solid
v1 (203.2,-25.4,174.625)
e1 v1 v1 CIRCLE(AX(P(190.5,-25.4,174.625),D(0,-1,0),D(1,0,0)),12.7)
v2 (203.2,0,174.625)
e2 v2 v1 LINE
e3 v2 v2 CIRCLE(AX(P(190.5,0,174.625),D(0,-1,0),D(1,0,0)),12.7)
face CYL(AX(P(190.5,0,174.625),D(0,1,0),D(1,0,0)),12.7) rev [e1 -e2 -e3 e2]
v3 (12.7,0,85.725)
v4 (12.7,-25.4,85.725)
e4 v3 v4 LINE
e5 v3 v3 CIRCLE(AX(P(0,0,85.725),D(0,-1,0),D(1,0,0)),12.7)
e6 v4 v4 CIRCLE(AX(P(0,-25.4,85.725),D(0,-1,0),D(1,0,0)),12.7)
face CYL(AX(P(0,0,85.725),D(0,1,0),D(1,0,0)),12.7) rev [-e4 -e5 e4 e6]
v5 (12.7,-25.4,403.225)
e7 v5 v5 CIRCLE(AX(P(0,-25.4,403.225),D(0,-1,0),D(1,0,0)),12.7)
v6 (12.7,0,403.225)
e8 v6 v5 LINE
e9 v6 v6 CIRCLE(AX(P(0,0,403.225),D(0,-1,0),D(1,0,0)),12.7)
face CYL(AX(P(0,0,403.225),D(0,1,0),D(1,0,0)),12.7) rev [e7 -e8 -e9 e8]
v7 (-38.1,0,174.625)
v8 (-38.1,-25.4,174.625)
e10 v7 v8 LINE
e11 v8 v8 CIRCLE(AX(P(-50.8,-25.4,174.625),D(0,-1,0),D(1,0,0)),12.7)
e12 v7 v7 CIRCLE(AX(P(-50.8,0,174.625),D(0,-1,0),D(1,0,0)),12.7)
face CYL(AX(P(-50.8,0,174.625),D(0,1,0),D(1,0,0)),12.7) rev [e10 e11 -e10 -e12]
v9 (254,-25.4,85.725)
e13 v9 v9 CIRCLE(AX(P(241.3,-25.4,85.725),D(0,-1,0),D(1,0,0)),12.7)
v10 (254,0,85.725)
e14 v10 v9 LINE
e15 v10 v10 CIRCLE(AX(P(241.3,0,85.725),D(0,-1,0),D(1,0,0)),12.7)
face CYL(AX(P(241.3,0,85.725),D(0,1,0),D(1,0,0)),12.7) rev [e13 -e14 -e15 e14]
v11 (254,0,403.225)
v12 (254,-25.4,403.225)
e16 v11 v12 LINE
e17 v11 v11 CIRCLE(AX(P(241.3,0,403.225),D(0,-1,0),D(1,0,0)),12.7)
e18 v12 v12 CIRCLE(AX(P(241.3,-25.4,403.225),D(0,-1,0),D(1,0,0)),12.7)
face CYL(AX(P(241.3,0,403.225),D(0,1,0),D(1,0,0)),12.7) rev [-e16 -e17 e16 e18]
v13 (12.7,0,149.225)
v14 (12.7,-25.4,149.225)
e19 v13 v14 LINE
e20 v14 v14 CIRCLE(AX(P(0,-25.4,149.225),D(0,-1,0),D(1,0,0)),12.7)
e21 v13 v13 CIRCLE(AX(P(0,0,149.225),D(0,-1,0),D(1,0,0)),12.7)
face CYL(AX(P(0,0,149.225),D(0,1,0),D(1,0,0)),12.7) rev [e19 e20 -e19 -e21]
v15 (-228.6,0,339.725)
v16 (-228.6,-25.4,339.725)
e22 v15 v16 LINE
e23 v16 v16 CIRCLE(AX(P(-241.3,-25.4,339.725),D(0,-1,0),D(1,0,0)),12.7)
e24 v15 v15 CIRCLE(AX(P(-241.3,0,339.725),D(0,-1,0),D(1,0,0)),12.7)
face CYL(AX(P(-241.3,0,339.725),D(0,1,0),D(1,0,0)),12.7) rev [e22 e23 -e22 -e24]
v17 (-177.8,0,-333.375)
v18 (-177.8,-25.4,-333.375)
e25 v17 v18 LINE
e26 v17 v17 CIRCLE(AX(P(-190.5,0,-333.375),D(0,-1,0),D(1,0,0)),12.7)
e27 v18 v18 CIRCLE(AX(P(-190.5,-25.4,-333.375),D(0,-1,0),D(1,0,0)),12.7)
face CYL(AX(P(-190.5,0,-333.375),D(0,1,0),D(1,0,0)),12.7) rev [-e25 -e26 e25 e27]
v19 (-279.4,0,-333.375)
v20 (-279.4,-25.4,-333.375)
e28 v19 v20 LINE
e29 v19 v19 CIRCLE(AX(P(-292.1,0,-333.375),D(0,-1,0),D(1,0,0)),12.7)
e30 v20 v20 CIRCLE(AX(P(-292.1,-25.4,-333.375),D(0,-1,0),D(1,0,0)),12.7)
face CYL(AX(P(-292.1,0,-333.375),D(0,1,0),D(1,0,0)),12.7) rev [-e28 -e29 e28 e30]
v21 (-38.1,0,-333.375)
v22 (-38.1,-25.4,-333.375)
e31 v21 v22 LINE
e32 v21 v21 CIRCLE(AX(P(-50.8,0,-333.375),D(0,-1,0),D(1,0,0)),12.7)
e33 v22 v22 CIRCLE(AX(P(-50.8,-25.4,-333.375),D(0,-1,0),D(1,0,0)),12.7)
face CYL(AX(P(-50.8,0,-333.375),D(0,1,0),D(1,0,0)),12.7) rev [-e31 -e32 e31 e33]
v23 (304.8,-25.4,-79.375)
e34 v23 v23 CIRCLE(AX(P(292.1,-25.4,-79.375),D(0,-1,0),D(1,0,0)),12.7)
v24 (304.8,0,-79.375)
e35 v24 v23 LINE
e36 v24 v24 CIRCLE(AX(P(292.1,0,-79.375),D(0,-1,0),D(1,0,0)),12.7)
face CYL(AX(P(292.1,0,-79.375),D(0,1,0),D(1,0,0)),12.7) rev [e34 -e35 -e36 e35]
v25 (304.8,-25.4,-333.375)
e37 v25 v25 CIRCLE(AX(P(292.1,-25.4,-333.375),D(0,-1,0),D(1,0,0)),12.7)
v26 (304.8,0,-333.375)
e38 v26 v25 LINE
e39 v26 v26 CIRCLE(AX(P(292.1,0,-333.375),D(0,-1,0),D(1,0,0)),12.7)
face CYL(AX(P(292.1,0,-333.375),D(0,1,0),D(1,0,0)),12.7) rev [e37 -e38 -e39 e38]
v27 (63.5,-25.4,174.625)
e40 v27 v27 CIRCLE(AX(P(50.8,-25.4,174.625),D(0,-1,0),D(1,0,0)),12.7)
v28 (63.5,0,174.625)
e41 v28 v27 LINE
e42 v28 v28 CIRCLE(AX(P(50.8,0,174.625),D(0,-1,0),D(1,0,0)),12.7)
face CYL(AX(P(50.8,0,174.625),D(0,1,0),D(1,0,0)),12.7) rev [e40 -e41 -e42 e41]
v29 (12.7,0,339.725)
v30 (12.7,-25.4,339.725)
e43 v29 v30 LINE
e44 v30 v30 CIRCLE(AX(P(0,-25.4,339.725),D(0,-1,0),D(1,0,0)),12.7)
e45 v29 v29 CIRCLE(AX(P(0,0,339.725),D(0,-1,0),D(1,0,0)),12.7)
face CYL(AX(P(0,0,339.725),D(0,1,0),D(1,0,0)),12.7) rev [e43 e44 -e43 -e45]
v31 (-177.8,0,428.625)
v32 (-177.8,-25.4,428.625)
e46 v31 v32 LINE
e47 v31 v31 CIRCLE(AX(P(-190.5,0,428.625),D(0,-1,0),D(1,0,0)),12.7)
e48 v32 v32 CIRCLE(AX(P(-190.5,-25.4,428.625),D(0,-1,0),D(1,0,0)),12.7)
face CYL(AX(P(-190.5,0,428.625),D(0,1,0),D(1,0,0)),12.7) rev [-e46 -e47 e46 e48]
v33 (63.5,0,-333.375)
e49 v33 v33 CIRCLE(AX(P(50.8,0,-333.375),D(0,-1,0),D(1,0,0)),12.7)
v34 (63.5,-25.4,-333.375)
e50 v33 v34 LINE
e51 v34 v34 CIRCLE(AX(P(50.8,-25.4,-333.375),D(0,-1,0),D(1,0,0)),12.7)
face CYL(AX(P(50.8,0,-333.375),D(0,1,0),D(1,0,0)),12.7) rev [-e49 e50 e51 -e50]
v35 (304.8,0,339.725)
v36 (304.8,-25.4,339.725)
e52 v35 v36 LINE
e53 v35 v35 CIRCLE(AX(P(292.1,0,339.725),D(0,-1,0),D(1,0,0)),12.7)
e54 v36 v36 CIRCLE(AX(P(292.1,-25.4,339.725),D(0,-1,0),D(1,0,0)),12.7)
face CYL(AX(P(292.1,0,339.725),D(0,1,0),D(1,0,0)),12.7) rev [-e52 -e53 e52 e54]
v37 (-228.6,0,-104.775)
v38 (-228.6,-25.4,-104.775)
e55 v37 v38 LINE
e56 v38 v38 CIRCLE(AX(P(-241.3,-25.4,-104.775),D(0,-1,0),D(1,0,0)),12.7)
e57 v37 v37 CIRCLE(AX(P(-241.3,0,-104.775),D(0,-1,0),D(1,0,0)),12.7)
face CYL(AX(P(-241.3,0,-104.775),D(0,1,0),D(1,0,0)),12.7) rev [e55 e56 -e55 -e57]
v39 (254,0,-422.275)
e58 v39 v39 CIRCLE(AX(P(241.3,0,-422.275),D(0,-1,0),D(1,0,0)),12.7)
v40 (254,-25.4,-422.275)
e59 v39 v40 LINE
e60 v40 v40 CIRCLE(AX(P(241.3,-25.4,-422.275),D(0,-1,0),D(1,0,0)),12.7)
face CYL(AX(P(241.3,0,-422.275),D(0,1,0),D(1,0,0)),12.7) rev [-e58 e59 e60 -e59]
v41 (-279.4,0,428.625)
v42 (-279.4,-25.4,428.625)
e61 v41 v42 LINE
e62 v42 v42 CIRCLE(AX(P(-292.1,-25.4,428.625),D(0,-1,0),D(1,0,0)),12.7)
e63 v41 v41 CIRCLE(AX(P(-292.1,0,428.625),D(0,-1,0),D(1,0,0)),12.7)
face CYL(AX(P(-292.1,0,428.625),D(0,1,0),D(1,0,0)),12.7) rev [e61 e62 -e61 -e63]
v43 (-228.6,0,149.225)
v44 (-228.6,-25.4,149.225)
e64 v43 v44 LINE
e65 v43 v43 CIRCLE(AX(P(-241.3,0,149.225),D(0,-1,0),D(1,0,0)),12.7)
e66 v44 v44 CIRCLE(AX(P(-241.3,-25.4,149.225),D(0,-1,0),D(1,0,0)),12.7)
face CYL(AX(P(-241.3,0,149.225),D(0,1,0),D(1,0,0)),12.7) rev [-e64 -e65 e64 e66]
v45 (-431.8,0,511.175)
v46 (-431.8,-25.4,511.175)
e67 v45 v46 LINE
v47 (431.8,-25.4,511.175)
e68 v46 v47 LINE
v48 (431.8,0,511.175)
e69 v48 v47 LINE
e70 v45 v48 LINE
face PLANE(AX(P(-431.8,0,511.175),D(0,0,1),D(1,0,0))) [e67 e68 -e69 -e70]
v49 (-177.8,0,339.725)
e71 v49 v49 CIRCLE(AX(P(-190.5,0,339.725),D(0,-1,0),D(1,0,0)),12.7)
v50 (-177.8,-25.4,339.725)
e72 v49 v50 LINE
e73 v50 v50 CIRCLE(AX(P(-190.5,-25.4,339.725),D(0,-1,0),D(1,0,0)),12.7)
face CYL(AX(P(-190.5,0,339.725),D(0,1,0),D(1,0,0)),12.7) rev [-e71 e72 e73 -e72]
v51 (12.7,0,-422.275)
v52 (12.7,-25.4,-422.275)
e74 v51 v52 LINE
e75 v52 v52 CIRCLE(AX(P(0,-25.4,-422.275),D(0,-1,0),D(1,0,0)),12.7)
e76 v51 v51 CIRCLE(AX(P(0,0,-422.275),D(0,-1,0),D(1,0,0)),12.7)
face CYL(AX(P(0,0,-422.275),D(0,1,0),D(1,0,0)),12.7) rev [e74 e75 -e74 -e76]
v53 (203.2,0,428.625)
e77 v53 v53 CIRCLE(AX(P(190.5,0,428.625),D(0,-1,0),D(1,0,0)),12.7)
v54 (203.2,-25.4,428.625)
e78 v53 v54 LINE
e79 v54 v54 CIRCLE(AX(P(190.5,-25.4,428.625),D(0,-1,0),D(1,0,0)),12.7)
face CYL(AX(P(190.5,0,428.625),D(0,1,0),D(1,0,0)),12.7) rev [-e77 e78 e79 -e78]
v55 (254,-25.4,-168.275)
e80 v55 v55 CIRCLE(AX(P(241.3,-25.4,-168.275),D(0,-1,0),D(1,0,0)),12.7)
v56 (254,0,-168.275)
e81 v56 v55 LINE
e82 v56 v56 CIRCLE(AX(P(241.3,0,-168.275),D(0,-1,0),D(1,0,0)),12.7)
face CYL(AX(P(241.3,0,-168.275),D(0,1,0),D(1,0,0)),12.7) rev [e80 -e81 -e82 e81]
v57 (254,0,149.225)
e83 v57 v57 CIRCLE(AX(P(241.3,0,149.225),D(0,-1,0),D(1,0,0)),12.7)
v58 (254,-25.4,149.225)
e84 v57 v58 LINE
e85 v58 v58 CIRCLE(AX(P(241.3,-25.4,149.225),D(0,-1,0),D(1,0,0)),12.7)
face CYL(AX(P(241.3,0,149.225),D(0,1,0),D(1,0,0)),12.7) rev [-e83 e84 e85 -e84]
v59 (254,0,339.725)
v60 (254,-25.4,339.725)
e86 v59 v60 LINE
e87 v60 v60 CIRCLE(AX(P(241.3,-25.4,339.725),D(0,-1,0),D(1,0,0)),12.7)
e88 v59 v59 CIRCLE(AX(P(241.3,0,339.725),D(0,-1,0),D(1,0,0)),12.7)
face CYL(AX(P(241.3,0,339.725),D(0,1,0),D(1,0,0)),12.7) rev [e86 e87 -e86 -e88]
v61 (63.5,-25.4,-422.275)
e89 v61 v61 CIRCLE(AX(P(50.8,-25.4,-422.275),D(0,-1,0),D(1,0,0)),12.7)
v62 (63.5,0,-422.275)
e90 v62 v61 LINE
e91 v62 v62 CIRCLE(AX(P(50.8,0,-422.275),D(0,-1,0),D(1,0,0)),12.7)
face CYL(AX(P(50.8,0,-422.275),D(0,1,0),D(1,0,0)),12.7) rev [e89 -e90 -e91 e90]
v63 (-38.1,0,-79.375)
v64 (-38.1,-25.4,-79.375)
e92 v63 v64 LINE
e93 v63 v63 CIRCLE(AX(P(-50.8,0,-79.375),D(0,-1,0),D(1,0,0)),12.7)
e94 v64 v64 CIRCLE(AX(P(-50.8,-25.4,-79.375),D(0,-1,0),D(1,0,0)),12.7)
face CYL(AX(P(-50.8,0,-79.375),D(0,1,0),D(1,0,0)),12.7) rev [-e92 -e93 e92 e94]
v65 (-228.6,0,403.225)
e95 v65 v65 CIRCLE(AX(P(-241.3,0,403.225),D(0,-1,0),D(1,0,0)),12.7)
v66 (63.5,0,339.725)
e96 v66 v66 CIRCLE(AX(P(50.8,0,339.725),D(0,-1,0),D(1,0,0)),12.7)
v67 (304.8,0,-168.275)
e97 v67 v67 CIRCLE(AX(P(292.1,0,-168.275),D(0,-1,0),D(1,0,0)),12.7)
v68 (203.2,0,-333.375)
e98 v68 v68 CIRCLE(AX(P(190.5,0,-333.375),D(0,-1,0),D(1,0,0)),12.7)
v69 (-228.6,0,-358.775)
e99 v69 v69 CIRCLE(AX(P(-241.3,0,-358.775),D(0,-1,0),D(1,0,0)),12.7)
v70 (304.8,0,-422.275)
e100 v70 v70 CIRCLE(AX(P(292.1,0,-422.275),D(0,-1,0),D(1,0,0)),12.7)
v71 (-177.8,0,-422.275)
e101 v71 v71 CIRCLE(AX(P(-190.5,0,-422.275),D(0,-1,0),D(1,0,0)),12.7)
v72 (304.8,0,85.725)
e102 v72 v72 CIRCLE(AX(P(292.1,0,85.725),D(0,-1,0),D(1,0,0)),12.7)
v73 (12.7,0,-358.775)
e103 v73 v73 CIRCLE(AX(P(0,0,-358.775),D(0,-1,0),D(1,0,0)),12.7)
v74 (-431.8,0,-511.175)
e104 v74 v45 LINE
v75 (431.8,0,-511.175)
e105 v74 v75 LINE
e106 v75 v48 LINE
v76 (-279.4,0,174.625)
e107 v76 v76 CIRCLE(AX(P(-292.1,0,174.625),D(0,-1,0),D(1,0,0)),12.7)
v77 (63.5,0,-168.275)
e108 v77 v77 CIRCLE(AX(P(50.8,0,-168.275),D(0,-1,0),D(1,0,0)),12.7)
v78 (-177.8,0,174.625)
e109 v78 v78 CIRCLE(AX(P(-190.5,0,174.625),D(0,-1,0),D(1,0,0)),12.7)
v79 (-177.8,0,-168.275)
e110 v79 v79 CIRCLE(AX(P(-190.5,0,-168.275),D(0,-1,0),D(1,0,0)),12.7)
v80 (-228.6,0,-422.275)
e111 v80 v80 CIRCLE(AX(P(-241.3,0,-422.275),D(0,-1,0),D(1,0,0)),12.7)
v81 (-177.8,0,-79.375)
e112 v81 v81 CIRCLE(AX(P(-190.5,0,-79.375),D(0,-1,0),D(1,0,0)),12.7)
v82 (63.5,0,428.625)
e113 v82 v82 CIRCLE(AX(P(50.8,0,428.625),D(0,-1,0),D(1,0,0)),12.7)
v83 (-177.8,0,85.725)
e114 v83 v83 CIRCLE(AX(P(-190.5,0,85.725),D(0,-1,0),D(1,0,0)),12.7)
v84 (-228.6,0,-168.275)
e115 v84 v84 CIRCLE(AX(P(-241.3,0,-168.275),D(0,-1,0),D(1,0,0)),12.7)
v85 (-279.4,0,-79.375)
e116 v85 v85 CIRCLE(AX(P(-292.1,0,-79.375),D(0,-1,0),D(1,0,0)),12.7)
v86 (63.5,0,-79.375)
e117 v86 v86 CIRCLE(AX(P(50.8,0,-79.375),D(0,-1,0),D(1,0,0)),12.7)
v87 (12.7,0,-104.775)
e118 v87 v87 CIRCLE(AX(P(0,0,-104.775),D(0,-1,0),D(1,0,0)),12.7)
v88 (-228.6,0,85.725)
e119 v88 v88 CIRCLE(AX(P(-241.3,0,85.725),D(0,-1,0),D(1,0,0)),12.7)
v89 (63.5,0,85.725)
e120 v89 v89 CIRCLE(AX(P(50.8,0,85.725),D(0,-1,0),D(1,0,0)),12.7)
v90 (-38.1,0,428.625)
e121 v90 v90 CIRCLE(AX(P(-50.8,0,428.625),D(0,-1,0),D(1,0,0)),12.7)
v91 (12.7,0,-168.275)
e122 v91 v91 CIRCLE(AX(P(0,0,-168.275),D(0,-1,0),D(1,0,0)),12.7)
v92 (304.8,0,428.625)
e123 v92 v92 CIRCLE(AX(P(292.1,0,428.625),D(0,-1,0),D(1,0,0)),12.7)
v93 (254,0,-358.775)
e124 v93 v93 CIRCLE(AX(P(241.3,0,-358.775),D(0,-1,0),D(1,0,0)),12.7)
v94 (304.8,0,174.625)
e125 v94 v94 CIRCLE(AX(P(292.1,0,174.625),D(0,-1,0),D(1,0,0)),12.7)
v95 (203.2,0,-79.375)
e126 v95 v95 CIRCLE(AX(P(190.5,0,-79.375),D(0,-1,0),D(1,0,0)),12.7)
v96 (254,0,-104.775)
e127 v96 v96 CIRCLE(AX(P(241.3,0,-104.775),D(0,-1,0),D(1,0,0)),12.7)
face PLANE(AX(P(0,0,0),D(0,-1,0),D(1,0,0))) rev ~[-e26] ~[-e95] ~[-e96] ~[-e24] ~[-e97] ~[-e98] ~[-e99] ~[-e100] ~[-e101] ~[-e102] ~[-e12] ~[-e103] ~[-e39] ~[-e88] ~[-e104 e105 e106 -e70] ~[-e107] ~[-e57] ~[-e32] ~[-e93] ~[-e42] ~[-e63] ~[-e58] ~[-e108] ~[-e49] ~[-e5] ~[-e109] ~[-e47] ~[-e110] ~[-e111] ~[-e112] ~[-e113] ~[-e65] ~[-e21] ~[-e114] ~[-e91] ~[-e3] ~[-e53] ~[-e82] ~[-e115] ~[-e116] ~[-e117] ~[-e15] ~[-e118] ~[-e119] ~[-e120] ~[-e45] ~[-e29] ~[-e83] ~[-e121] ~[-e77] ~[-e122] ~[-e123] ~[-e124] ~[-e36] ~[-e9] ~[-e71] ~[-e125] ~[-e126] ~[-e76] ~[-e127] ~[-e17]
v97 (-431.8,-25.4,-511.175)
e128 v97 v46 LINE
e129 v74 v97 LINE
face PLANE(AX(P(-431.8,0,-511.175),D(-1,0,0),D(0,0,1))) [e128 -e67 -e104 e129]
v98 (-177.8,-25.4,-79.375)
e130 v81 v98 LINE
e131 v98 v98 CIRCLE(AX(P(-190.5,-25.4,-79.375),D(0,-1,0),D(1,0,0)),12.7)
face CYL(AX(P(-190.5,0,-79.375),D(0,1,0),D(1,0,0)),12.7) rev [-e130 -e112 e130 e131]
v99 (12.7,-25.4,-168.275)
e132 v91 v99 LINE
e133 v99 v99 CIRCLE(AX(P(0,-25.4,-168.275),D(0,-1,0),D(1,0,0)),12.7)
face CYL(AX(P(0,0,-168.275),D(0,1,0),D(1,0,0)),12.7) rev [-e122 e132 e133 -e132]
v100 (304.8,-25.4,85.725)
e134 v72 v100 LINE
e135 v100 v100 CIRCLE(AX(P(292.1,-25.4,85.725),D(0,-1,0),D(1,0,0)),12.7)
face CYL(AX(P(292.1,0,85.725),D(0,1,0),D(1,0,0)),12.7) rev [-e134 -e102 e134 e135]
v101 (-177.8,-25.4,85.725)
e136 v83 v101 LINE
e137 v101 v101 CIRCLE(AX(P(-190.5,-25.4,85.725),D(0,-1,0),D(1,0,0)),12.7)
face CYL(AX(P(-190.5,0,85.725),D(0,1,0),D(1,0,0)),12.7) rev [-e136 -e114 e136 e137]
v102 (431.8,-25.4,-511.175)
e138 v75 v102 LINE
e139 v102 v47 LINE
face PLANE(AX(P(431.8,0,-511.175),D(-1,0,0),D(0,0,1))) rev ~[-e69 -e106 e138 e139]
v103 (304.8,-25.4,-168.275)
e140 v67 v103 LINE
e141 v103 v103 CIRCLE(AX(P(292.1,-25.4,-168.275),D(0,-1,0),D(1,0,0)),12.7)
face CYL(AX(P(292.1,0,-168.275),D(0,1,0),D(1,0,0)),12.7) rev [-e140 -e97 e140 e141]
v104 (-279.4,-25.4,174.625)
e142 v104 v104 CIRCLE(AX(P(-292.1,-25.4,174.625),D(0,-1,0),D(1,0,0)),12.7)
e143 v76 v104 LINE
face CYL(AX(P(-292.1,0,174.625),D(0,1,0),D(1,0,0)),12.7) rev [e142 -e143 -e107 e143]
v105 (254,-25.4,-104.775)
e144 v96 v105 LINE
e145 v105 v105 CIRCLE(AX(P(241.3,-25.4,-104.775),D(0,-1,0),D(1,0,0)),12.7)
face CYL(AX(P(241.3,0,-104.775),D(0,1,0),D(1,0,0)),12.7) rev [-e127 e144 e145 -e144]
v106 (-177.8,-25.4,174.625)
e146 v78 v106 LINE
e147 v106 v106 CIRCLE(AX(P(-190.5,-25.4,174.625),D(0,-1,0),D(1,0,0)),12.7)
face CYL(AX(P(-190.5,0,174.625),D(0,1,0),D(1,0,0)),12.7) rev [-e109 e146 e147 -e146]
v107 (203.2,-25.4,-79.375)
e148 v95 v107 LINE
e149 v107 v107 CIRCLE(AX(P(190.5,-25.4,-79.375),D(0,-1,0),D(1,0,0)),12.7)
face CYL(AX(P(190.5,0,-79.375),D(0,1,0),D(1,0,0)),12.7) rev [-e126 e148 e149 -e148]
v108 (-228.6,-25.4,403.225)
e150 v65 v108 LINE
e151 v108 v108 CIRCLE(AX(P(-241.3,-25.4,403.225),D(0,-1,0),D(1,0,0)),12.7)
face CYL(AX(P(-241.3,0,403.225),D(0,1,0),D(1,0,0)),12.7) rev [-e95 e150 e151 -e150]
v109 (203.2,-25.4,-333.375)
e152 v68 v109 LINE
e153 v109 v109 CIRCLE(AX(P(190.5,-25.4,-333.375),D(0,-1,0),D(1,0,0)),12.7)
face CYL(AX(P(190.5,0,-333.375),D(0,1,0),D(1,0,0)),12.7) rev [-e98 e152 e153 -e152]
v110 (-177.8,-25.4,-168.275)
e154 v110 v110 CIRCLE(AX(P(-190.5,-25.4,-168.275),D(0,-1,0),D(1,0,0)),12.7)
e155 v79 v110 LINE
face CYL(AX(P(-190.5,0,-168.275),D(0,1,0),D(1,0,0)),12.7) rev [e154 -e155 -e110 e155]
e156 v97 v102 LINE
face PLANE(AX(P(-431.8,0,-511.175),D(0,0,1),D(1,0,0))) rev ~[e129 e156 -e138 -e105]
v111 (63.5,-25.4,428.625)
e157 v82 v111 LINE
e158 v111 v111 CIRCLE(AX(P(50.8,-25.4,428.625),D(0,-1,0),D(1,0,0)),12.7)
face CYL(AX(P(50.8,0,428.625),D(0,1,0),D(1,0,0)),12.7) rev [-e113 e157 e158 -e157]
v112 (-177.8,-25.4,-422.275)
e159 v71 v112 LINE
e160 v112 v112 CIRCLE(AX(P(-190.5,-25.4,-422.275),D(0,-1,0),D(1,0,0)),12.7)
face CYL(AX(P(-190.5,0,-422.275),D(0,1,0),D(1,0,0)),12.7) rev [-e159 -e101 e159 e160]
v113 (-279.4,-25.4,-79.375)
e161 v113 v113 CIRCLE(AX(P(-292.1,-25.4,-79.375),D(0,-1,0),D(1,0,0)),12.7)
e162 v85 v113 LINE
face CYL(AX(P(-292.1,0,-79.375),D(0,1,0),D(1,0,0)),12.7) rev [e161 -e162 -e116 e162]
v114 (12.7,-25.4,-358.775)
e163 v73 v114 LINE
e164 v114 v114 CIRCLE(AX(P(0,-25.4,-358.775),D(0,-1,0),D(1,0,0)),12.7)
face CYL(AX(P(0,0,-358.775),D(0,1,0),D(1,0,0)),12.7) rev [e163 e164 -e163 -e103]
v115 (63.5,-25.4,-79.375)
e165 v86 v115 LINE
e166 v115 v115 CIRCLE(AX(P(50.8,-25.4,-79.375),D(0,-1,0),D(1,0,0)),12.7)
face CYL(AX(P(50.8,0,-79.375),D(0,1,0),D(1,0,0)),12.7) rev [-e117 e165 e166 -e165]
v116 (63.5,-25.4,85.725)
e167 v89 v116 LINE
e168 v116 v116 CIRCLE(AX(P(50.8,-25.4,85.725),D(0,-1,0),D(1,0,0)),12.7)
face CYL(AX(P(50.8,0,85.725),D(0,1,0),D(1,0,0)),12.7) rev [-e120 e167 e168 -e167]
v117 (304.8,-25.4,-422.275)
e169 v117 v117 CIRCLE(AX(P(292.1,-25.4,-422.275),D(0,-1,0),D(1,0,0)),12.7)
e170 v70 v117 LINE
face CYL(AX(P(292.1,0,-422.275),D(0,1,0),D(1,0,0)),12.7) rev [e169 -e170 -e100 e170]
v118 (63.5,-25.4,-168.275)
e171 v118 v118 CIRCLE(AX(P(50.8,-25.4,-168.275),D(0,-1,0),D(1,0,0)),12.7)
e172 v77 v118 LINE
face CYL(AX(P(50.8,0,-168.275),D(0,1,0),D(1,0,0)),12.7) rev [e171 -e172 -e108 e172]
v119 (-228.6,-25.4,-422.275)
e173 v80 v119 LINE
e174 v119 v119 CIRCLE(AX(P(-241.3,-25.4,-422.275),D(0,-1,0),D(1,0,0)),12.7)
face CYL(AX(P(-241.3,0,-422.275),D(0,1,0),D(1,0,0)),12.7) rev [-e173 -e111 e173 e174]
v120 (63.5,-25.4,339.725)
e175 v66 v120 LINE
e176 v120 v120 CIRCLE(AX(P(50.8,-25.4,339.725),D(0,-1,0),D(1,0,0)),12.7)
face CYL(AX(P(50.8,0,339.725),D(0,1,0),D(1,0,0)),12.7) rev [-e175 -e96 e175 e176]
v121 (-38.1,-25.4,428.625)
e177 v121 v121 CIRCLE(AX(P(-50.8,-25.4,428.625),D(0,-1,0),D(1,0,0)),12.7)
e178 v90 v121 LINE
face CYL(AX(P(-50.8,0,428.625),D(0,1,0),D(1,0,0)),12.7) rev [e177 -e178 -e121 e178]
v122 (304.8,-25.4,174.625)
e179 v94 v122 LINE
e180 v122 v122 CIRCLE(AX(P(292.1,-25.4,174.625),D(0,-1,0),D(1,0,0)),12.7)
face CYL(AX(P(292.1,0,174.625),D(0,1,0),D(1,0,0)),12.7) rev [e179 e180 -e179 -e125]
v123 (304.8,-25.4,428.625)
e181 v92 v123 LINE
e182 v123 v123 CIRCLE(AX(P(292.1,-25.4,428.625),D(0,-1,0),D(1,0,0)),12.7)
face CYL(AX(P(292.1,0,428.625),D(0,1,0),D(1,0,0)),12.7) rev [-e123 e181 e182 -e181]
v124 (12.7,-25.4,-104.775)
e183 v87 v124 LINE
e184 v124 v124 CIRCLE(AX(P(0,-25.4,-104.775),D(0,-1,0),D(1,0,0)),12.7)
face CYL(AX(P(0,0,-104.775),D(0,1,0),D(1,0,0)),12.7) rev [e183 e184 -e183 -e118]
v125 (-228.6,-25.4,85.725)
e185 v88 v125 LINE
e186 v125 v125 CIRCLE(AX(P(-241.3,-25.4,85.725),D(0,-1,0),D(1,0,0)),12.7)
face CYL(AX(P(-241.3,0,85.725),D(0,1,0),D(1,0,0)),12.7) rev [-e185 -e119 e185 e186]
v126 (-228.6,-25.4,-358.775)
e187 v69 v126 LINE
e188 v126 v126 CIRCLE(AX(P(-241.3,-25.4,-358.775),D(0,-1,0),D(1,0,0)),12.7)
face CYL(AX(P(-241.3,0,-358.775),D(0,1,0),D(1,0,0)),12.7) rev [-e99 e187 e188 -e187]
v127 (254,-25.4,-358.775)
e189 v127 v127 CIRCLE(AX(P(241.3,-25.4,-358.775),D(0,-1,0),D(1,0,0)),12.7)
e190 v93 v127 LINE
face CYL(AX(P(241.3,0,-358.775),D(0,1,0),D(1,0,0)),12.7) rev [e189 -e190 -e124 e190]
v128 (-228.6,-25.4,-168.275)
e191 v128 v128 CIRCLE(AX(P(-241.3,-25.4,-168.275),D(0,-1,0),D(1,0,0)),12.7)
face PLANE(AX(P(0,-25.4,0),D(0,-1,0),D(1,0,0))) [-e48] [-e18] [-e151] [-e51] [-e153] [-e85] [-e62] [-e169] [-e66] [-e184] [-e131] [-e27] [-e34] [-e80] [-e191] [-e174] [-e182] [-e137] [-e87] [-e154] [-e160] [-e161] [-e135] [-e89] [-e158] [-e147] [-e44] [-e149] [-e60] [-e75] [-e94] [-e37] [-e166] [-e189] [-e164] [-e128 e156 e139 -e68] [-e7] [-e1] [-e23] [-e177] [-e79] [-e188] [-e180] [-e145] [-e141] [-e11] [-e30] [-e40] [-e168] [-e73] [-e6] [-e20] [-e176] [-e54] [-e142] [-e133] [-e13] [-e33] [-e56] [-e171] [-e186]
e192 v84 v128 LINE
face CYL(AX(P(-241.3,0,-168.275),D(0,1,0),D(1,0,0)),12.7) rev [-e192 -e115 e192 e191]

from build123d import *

# Parameters (mm, degrees)
F0_W     = 863.6
F0_H     = 1022.35
F0_R     = 12.7
F1_DEPTH = 25.4


with BuildPart() as f1:
    # F0 (on Front) → F1 (new body)
    with BuildSketch(Plane.XZ):
        Rectangle(F0_W, F0_H)
        with Locations((-241.3, -422.275)):
            Circle(F0_R, mode=Mode.SUBTRACT)
        with Locations((-292.1, -333.375)):
            Circle(F0_R, mode=Mode.SUBTRACT)
        with Locations((-241.3, -358.775)):
            Circle(F0_R, mode=Mode.SUBTRACT)
        with Locations((-190.5, -422.275)):
            Circle(F0_R, mode=Mode.SUBTRACT)
        with Locations((-190.5, -333.375)):
            Circle(F0_R, mode=Mode.SUBTRACT)
        with Locations((-50.8, -333.375)):
            Circle(F0_R, mode=Mode.SUBTRACT)
        with Locations((-241.3, -168.275)):
            Circle(F0_R, mode=Mode.SUBTRACT)
        with Locations((-292.1, -79.375)):
            Circle(F0_R, mode=Mode.SUBTRACT)
        with Locations((-241.3, -104.775)):
            Circle(F0_R, mode=Mode.SUBTRACT)
        with Locations((-190.5, -168.275)):
            Circle(F0_R, mode=Mode.SUBTRACT)
        with Locations((-190.5, -79.375)):
            Circle(F0_R, mode=Mode.SUBTRACT)
        with Locations((-50.8, -79.375)):
            Circle(F0_R, mode=Mode.SUBTRACT)
        with Locations((0, -422.275)):
            Circle(F0_R, mode=Mode.SUBTRACT)
        with Locations((50.8, -422.275)):
            Circle(F0_R, mode=Mode.SUBTRACT)
        with Locations((0, -358.775)):
            Circle(F0_R, mode=Mode.SUBTRACT)
        with Locations((50.8, -333.375)):
            Circle(F0_R, mode=Mode.SUBTRACT)
        with Locations((190.5, -333.375)):
            Circle(F0_R, mode=Mode.SUBTRACT)
        with Locations((241.3, -422.275)):
            Circle(F0_R, mode=Mode.SUBTRACT)
        with Locations((292.1, -422.275)):
            Circle(F0_R, mode=Mode.SUBTRACT)
        with Locations((241.3, -358.775)):
            Circle(F0_R, mode=Mode.SUBTRACT)
        with Locations((292.1, -333.375)):
            Circle(F0_R, mode=Mode.SUBTRACT)
        with Locations((0, -168.275)):
            Circle(F0_R, mode=Mode.SUBTRACT)
        with Locations((50.8, -168.275)):
            Circle(F0_R, mode=Mode.SUBTRACT)
        with Locations((0, -104.775)):
            Circle(F0_R, mode=Mode.SUBTRACT)
        with Locations((50.8, -79.375)):
            Circle(F0_R, mode=Mode.SUBTRACT)
        with Locations((190.5, -79.375)):
            Circle(F0_R, mode=Mode.SUBTRACT)
        with Locations((241.3, -168.275)):
            Circle(F0_R, mode=Mode.SUBTRACT)
        with Locations((292.1, -168.275)):
            Circle(F0_R, mode=Mode.SUBTRACT)
        with Locations((241.3, -104.775)):
            Circle(F0_R, mode=Mode.SUBTRACT)
        with Locations((292.1, -79.375)):
            Circle(F0_R, mode=Mode.SUBTRACT)
        with Locations((-241.3, 85.725)):
            Circle(F0_R, mode=Mode.SUBTRACT)
        with Locations((-292.1, 174.625)):
            Circle(F0_R, mode=Mode.SUBTRACT)
        with Locations((-241.3, 149.225)):
            Circle(F0_R, mode=Mode.SUBTRACT)
        with Locations((-190.5, 85.725)):
            Circle(F0_R, mode=Mode.SUBTRACT)
        with Locations((-190.5, 174.625)):
            Circle(F0_R, mode=Mode.SUBTRACT)
        with Locations((-50.8, 174.625)):
            Circle(F0_R, mode=Mode.SUBTRACT)
        with Locations((-241.3, 339.725)):
            Circle(F0_R, mode=Mode.SUBTRACT)
        with Locations((-292.1, 428.625)):
            Circle(F0_R, mode=Mode.SUBTRACT)
        with Locations((-241.3, 403.225)):
            Circle(F0_R, mode=Mode.SUBTRACT)
        with Locations((-190.5, 339.725)):
            Circle(F0_R, mode=Mode.SUBTRACT)
        with Locations((-190.5, 428.625)):
            Circle(F0_R, mode=Mode.SUBTRACT)
        with Locations((-50.8, 428.625)):
            Circle(F0_R, mode=Mode.SUBTRACT)
        with Locations((0, 85.725)):
            Circle(F0_R, mode=Mode.SUBTRACT)
        with Locations((50.8, 85.725)):
            Circle(F0_R, mode=Mode.SUBTRACT)
        with Locations((0, 149.225)):
            Circle(F0_R, mode=Mode.SUBTRACT)
        with Locations((50.8, 174.625)):
            Circle(F0_R, mode=Mode.SUBTRACT)
        with Locations((190.5, 174.625)):
            Circle(F0_R, mode=Mode.SUBTRACT)
        with Locations((241.3, 85.725)):
            Circle(F0_R, mode=Mode.SUBTRACT)
        with Locations((292.1, 85.725)):
            Circle(F0_R, mode=Mode.SUBTRACT)
        with Locations((241.3, 149.225)):
            Circle(F0_R, mode=Mode.SUBTRACT)
        with Locations((292.1, 174.625)):
            Circle(F0_R, mode=Mode.SUBTRACT)
        with Locations((0, 339.725)):
            Circle(F0_R, mode=Mode.SUBTRACT)
        with Locations((50.8, 339.725)):
            Circle(F0_R, mode=Mode.SUBTRACT)
        with Locations((0, 403.225)):
            Circle(F0_R, mode=Mode.SUBTRACT)
        with Locations((50.8, 428.625)):
            Circle(F0_R, mode=Mode.SUBTRACT)
        with Locations((190.5, 428.625)):
            Circle(F0_R, mode=Mode.SUBTRACT)
        with Locations((241.3, 339.725)):
            Circle(F0_R, mode=Mode.SUBTRACT)
        with Locations((292.1, 339.725)):
            Circle(F0_R, mode=Mode.SUBTRACT)
        with Locations((241.3, 403.225)):
            Circle(F0_R, mode=Mode.SUBTRACT)
        with Locations((292.1, 428.625)):
            Circle(F0_R, mode=Mode.SUBTRACT)
    extrude(amount=F1_DEPTH)


solid = f1.part
